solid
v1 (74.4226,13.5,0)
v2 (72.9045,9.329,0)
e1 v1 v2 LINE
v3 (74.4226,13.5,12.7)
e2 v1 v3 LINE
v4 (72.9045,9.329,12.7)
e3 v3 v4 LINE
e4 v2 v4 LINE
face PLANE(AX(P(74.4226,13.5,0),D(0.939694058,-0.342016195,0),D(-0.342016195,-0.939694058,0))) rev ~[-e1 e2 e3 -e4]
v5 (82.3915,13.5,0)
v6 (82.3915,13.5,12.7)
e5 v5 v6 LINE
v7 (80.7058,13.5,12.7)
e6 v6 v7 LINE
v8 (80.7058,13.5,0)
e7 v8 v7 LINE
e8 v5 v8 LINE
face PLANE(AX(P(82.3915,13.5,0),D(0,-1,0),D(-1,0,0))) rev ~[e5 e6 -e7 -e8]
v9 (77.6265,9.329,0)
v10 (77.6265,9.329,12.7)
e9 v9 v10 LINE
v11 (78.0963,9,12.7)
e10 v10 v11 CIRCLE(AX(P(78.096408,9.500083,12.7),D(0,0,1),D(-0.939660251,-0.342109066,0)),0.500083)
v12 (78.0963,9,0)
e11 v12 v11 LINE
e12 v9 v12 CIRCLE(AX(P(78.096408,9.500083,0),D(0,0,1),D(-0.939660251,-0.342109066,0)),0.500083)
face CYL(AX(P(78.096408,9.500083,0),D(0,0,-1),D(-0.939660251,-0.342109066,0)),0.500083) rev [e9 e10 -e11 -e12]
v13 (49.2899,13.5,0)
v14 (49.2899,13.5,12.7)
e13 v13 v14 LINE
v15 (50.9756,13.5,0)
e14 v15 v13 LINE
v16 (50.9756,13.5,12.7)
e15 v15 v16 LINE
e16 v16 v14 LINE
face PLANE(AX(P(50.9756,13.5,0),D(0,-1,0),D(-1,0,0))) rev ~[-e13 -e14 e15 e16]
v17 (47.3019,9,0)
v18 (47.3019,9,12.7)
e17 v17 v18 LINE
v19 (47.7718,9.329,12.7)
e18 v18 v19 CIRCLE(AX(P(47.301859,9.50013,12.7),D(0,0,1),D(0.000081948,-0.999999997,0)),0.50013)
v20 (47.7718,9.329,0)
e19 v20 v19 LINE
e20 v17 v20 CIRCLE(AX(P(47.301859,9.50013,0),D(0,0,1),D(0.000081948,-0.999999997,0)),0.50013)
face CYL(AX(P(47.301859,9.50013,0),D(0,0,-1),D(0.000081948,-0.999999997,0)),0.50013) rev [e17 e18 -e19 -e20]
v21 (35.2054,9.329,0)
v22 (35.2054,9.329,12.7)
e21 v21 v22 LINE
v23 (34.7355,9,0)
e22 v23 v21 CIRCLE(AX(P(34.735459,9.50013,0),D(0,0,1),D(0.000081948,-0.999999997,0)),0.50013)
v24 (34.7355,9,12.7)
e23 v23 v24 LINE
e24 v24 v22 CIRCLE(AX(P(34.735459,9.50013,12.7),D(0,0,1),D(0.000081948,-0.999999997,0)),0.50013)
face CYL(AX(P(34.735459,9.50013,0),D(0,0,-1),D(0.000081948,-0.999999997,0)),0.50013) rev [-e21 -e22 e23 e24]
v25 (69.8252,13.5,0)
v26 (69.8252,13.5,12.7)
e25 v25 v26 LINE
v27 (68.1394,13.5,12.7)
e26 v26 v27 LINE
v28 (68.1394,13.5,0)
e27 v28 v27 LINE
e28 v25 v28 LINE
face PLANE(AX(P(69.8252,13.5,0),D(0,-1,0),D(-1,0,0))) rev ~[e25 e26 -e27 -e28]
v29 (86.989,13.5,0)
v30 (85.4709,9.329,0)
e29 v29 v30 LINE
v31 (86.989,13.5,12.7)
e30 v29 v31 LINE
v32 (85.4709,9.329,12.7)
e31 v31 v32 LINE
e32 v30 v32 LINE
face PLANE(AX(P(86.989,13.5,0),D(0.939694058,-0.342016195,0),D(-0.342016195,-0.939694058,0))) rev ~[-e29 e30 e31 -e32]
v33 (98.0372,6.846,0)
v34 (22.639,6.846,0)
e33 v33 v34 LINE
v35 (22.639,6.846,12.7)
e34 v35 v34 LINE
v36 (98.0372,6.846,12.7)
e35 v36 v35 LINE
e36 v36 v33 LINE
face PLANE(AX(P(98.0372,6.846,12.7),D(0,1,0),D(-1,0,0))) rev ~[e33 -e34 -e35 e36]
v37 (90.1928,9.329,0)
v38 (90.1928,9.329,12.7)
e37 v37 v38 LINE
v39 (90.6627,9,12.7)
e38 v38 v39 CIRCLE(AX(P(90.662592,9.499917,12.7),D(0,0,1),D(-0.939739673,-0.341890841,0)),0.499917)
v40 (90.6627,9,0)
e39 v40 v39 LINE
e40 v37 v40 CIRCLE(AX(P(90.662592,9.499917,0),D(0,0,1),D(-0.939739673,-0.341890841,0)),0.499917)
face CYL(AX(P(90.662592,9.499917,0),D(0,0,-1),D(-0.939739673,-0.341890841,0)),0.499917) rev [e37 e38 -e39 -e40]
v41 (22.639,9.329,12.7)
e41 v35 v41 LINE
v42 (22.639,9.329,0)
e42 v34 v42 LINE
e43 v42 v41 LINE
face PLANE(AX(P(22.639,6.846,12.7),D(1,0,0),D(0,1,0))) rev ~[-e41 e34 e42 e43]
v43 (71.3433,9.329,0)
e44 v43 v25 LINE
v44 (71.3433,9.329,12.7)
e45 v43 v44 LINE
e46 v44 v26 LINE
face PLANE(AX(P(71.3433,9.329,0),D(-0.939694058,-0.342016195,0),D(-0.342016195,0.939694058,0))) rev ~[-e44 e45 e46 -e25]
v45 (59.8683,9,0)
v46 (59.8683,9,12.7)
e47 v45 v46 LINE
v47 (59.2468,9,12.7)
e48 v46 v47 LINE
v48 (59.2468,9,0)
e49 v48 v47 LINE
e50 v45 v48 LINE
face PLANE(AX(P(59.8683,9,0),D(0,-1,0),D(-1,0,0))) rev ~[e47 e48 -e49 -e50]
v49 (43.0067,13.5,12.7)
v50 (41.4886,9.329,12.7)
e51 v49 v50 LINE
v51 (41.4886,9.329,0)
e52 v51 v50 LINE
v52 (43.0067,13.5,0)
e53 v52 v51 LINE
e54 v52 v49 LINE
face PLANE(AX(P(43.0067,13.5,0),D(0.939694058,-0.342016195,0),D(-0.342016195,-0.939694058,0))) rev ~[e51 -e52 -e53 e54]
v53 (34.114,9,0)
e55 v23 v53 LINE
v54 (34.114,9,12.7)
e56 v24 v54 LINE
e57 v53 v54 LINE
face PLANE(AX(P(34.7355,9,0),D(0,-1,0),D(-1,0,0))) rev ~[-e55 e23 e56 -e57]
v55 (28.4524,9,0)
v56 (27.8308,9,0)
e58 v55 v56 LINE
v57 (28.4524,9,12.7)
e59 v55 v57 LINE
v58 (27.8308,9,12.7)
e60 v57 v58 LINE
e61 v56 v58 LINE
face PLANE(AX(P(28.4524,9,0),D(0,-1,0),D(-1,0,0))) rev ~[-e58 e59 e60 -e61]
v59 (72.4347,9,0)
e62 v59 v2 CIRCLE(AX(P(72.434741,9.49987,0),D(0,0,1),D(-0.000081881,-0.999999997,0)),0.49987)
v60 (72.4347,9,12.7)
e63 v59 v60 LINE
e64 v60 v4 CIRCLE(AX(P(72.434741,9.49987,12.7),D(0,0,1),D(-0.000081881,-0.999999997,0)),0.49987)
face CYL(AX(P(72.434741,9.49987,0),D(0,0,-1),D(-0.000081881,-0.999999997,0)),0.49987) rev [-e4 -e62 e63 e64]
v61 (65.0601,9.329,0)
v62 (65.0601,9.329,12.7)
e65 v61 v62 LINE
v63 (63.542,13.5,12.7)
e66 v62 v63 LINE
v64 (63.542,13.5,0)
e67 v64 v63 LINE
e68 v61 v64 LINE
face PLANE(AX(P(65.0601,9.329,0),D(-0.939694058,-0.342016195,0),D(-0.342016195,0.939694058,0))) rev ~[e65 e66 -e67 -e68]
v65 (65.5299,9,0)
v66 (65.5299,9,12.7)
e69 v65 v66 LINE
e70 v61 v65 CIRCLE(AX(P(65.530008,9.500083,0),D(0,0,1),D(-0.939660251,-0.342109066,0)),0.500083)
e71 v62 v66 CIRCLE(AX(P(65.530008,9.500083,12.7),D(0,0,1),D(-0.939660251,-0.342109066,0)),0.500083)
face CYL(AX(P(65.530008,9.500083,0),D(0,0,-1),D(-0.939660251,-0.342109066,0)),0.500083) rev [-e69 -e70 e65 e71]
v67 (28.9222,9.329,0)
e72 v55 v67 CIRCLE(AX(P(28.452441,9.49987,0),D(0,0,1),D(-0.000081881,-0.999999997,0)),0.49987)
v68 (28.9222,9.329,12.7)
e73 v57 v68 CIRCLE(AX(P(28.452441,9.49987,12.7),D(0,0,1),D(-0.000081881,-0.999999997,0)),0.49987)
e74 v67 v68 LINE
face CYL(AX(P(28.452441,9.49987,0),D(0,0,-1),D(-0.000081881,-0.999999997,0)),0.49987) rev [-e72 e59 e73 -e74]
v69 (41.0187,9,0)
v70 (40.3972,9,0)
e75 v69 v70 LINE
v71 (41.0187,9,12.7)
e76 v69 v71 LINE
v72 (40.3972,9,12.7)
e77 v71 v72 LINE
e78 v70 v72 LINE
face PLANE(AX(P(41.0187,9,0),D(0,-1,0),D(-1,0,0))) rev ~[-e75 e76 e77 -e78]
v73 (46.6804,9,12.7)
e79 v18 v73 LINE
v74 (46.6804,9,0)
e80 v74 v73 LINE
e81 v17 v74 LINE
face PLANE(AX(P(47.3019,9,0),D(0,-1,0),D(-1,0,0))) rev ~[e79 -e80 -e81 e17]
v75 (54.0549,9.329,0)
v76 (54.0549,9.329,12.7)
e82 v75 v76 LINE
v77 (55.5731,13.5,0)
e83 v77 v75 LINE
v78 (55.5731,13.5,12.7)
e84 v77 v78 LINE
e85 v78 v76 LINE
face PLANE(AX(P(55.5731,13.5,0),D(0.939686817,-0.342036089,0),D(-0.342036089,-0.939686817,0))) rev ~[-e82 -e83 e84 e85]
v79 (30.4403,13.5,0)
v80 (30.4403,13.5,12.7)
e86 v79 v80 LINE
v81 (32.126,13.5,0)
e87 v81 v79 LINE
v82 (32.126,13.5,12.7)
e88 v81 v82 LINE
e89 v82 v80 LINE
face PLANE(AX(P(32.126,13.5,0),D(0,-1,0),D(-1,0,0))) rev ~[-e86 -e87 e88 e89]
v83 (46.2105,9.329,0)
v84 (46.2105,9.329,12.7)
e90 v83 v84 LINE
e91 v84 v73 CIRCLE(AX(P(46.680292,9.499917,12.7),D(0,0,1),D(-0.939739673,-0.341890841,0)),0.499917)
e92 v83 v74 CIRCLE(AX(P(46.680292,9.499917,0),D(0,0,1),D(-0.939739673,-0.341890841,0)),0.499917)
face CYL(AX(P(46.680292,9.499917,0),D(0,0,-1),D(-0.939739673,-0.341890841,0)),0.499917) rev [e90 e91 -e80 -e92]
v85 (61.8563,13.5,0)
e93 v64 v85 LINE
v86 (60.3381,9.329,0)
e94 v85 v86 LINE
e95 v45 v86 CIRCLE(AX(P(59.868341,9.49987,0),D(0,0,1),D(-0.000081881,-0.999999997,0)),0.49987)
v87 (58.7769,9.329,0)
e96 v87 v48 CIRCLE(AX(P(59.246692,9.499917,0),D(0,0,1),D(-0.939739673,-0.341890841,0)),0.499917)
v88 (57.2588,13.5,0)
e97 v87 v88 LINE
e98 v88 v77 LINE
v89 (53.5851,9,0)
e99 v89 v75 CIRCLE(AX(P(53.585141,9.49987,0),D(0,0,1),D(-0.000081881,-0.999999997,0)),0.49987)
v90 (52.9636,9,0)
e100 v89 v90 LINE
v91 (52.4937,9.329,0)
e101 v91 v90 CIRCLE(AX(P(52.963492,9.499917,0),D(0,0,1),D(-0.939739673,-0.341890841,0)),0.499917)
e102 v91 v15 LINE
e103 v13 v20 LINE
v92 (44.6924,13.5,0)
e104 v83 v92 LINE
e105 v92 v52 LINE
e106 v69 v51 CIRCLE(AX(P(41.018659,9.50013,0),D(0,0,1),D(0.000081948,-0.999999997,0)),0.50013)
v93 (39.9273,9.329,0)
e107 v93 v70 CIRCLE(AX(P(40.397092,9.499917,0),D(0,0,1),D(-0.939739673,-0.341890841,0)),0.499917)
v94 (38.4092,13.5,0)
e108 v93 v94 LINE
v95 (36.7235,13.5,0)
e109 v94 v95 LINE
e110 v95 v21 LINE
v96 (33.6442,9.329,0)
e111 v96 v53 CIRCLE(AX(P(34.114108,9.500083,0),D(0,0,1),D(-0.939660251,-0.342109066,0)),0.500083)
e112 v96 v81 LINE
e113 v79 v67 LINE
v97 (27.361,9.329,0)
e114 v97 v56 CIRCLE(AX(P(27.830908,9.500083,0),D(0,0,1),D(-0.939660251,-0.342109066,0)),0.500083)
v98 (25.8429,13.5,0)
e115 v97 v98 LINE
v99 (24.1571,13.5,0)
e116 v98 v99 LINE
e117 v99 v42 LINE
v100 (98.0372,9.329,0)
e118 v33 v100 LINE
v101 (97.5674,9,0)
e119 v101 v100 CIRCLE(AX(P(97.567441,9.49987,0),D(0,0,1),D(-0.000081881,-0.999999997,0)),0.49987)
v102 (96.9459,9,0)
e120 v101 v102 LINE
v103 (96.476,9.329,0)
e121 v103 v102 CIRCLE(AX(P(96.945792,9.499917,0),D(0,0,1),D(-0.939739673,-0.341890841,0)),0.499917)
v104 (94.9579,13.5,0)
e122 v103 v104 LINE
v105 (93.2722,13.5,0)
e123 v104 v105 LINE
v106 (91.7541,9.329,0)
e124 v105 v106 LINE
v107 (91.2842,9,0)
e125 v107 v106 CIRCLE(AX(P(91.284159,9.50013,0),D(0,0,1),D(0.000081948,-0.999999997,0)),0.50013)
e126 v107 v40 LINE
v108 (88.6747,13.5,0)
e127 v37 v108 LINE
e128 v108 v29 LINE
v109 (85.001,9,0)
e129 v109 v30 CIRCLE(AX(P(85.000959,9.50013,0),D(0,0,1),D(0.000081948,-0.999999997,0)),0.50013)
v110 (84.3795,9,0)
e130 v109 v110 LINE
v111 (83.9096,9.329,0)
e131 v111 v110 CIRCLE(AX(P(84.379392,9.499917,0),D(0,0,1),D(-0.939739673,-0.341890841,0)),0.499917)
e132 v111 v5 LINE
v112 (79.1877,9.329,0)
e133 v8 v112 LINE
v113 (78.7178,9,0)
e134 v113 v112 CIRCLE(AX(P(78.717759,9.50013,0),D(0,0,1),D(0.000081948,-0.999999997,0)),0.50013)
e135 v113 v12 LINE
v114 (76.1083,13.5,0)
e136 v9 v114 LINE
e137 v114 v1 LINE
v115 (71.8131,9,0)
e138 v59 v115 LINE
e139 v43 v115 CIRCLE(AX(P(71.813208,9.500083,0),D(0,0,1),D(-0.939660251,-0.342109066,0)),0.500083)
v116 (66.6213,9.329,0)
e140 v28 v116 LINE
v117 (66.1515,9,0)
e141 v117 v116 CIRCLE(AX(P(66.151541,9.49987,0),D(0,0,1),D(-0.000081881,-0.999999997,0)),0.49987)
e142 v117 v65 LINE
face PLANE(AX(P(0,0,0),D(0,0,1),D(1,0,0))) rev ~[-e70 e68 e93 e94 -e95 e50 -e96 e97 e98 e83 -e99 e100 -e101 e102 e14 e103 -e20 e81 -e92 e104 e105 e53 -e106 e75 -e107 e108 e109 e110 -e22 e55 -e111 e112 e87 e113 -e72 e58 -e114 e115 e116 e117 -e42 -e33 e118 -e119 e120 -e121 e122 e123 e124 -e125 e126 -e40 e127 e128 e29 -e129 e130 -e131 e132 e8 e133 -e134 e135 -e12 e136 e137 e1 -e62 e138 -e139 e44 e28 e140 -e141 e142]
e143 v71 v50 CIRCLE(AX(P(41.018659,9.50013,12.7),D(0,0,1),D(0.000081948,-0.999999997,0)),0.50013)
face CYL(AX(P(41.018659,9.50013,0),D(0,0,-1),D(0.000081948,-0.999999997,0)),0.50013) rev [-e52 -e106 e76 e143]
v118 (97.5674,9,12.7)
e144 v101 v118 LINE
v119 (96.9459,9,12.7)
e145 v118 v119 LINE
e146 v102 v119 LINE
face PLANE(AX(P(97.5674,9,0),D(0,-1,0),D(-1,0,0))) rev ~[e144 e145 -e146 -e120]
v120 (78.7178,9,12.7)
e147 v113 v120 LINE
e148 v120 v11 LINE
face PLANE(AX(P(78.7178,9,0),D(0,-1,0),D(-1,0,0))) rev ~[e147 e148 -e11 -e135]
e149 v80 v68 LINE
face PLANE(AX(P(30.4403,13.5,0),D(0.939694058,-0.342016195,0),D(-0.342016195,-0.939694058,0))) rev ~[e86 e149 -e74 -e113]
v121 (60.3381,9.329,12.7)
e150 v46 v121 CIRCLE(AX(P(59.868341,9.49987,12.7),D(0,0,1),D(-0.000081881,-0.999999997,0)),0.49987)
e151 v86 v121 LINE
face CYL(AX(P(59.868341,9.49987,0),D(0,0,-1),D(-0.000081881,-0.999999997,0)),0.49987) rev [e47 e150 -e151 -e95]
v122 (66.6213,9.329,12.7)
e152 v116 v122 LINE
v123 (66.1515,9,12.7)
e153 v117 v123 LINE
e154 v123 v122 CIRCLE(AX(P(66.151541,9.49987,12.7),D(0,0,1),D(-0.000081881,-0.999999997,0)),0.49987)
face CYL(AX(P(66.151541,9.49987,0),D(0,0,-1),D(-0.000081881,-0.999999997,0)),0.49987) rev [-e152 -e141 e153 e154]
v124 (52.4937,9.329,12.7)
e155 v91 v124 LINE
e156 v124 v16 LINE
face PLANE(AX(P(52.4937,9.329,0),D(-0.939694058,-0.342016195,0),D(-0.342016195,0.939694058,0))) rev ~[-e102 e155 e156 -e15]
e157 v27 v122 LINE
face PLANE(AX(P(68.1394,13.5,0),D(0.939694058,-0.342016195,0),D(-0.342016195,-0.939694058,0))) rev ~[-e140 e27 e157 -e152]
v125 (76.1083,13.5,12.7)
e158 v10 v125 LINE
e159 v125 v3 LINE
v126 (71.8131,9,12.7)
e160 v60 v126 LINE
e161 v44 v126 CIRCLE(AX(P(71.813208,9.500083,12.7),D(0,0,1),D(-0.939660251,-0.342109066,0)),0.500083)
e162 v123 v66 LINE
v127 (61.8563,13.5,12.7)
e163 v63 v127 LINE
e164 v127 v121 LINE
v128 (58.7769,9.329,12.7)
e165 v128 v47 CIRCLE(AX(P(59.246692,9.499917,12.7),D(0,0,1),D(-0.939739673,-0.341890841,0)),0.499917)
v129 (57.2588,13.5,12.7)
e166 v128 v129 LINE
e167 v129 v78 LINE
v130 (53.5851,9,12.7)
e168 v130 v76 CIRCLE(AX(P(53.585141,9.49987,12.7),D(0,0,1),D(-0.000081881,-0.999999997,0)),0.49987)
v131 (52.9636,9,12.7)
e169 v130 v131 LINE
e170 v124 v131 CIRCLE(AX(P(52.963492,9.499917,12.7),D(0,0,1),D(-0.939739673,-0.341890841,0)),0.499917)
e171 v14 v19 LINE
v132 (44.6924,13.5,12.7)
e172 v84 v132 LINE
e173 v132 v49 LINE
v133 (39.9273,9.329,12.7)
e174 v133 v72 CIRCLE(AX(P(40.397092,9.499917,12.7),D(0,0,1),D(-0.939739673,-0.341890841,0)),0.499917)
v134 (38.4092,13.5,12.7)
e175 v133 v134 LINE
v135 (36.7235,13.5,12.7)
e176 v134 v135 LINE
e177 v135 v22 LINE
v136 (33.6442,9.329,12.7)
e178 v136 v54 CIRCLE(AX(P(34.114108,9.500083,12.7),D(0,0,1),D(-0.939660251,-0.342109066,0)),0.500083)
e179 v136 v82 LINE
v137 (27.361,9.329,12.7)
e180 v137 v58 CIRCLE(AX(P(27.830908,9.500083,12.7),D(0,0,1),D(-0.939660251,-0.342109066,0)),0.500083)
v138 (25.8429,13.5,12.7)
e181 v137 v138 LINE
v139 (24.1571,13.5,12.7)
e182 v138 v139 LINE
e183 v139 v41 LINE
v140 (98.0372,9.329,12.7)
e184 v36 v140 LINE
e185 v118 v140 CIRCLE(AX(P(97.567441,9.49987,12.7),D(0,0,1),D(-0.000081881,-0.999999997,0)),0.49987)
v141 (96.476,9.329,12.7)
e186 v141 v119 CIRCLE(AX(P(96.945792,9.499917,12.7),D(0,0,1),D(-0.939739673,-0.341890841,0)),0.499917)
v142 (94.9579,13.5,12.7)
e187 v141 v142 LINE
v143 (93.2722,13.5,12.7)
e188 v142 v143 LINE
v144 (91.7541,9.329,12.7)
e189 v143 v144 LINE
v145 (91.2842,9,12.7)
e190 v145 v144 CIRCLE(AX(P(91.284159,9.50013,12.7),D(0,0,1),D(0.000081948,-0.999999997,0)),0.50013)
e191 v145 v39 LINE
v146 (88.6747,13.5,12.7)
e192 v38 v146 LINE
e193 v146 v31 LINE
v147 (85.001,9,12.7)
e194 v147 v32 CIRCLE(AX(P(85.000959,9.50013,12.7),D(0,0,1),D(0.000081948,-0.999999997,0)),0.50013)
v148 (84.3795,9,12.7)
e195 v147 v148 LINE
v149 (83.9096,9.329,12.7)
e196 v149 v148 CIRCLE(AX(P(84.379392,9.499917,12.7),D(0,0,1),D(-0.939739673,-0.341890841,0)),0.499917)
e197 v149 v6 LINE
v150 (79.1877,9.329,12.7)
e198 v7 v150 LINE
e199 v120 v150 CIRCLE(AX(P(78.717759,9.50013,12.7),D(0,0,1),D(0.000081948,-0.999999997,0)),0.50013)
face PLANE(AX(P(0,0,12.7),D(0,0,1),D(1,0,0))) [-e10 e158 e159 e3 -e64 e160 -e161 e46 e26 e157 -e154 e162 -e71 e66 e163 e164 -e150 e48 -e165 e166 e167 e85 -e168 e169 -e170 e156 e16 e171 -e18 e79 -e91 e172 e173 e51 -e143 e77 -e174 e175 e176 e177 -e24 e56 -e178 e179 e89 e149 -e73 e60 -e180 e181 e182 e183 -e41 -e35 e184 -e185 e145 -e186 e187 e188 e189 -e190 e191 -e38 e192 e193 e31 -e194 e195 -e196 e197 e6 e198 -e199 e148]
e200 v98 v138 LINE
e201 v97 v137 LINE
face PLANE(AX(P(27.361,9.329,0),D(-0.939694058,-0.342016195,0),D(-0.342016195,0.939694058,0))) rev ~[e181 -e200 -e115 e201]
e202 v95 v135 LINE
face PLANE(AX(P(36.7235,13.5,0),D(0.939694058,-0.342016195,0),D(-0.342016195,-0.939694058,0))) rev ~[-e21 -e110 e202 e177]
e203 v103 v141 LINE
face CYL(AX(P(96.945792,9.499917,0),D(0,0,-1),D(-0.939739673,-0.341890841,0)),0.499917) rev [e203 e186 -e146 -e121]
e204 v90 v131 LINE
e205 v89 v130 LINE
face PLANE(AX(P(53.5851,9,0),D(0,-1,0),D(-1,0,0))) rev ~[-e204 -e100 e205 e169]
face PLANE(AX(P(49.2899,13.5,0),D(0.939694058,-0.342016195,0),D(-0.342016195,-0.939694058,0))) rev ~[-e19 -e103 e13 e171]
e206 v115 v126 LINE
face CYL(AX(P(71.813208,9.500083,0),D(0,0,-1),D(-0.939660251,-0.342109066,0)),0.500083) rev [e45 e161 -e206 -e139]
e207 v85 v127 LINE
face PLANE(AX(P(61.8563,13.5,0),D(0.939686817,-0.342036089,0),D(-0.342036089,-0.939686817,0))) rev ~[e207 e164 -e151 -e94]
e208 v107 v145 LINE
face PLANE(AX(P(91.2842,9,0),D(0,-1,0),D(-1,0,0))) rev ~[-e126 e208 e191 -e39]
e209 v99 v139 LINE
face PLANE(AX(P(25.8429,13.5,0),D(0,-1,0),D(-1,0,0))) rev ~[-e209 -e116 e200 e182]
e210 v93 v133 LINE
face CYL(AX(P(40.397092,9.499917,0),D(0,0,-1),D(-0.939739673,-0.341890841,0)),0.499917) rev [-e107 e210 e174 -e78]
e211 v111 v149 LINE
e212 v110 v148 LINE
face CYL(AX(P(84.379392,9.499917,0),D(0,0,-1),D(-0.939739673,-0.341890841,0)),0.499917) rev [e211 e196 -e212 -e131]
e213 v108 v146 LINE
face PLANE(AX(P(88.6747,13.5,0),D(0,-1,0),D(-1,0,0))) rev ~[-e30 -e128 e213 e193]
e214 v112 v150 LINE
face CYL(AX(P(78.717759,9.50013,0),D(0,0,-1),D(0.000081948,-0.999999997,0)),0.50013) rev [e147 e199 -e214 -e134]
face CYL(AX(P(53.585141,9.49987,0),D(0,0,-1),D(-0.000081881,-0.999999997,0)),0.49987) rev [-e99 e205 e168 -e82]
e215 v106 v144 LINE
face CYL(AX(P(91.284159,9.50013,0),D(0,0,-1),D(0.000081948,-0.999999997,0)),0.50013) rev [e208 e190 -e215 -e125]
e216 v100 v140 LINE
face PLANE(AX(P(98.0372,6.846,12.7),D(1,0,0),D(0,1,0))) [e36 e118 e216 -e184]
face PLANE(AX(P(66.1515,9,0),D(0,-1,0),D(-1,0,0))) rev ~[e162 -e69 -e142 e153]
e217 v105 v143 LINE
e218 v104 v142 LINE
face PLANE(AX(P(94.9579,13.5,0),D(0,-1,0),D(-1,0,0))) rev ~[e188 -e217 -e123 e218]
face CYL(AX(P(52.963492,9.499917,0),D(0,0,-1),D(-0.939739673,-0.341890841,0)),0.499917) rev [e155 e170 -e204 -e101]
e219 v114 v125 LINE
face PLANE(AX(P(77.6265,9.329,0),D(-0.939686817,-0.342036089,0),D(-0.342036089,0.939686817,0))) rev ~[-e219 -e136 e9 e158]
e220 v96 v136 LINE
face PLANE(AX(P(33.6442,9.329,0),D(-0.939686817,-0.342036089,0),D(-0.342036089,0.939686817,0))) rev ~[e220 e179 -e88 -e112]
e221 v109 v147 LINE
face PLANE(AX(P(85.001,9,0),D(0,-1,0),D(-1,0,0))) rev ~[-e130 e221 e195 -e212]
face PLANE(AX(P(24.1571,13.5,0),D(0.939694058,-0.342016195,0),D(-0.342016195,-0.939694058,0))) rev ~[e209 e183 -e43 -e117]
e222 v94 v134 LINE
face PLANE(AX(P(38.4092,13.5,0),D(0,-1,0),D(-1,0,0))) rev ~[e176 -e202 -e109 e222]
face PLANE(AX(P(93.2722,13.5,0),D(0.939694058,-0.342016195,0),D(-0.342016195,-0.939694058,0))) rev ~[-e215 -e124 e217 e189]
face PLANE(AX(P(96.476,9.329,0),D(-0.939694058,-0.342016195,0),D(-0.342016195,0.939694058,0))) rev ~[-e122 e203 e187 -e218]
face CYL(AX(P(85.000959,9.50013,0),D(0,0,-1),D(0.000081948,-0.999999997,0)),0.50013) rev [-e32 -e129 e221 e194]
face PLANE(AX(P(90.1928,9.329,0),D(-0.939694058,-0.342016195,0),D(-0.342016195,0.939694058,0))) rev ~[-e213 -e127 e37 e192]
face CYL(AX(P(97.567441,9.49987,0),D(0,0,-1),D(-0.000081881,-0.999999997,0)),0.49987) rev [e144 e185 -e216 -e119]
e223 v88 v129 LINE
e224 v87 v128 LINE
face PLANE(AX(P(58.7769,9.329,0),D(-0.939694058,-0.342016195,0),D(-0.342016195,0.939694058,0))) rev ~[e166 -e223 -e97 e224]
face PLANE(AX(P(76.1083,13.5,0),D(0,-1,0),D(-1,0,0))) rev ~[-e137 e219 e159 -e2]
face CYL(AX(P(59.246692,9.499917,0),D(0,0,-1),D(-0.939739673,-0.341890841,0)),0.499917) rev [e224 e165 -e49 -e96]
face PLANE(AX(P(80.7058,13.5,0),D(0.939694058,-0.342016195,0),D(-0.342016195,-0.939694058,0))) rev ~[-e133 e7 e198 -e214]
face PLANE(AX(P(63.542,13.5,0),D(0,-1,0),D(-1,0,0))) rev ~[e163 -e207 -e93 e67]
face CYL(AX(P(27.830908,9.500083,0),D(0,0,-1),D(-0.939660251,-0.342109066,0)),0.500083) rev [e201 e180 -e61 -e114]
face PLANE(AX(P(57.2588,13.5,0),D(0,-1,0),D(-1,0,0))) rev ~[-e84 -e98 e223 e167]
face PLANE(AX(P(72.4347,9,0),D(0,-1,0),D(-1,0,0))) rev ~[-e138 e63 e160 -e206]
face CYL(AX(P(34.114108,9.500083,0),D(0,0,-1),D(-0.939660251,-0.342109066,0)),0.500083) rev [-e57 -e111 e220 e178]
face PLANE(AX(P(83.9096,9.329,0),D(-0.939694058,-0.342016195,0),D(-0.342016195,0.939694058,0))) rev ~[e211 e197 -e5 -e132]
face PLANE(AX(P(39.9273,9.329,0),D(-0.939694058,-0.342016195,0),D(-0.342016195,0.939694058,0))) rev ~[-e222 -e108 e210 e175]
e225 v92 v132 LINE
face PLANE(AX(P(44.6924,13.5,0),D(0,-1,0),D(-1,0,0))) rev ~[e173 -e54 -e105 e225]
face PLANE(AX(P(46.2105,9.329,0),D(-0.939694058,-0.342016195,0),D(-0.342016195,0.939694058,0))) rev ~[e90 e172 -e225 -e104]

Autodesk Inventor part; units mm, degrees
ref_plane "YZ Plane" through (0, 0, 0) normal (1, 0, 0) x (0, 1, 0)
ref_plane "XZ Plane" through (0, 0, 0) normal (0, 1, 0) x (-1, 0, 0)
ref_plane "XY Plane" through (0, 0, 0) normal (0, 0, 1) x (1, 0, 0)
sketch "Sketch1" plane through (0, 0, 0) normal (0, 0, 1) x (1, 0, 0)
  line L0 (27.361, 9.329) -> (25.8429, 13.5)
  line L1 (25.8429, 13.5) -> (24.1571, 13.5)
  line L2 (24.1571, 13.5) -> (22.639, 9.329)
  arc A0 (22.1692, 9) -> (22.639, 9.329) centre (22.1692, 9.5) ccw
  line L3 (22.1692, 9) -> (0, 9)
  line L4 (0, 9) -> (0, 0)
  line L5 (0, 0) -> (175.6637, 0)
  line L6 (175.6637, 0) -> (175.6637, 9)
  line L7 (175.6637, 9) -> (153.4945, 9)
  arc A1 (153.0247, 9.329) -> (153.4945, 9) centre (153.4945, 9.5) ccw
  line L8 (153.0247, 9.329) -> (151.5066, 13.5)
  line L9 (151.5066, 13.5) -> (149.8209, 13.5)
  line L10 (149.8209, 13.5) -> (148.3027, 9.329)
  arc A2 (147.8329, 9) -> (148.3027, 9.329) centre (147.8329, 9.5) ccw
  line L11 (147.8329, 9) -> (147.2113, 9)
  arc A3 (146.7415, 9.329) -> (147.2113, 9) centre (147.2113, 9.5) ccw
  line L12 (146.7415, 9.329) -> (145.2234, 13.5)
  line L13 (145.2234, 13.5) -> (143.5377, 13.5)
  line L14 (143.5377, 13.5) -> (142.0195, 9.329)
  arc A4 (141.5497, 9) -> (142.0195, 9.329) centre (141.5497, 9.5) ccw
  line L15 (141.5497, 9) -> (140.9282, 9)
  arc A5 (140.4583, 9.329) -> (140.9282, 9) centre (140.9282, 9.5) ccw
  line L16 (140.4583, 9.329) -> (138.9402, 13.5)
  line L17 (138.9402, 13.5) -> (137.2545, 13.5)
  line L18 (137.2545, 13.5) -> (135.7364, 9.329)
  arc A6 (135.2665, 9) -> (135.7364, 9.329) centre (135.2665, 9.5) ccw
  line L19 (135.2665, 9) -> (134.645, 9)
  arc A7 (134.1751, 9.329) -> (134.645, 9) centre (134.645, 9.5) ccw
  line L20 (134.1751, 9.329) -> (132.657, 13.5)
  line L21 (132.657, 13.5) -> (130.9713, 13.5)
  line L22 (130.9713, 13.5) -> (129.4532, 9.329)
  arc A8 (128.9833, 9) -> (129.4532, 9.329) centre (128.9833, 9.5) ccw
  line L23 (128.9833, 9) -> (128.3618, 9)
  arc A9 (127.8919, 9.329) -> (128.3618, 9) centre (128.3618, 9.5) ccw
  line L24 (127.8919, 9.329) -> (126.3738, 13.5)
  line L25 (126.3738, 13.5) -> (124.6881, 13.5)
  line L26 (124.6881, 13.5) -> (123.17, 9.329)
  arc A10 (122.7001, 9) -> (123.17, 9.329) centre (122.7001, 9.5) ccw
  line L27 (122.7001, 9) -> (122.0786, 9)
  arc A11 (121.6088, 9.329) -> (122.0786, 9) centre (122.0786, 9.5) ccw
  line L28 (121.6088, 9.329) -> (120.0906, 13.5)
  line L29 (120.0906, 13.5) -> (118.4049, 13.5)
  line L30 (118.4049, 13.5) -> (116.8868, 9.329)
  arc A12 (116.417, 9) -> (116.8868, 9.329) centre (116.417, 9.5) ccw
  line L31 (116.417, 9) -> (115.7954, 9)
  arc A13 (115.3256, 9.329) -> (115.7954, 9) centre (115.7954, 9.5) ccw
  line L32 (115.3256, 9.329) -> (113.8075, 13.5)
  line L33 (113.8075, 13.5) -> (112.1217, 13.5)
  line L34 (112.1217, 13.5) -> (110.6036, 9.329)
  arc A14 (110.1338, 9) -> (110.6036, 9.329) centre (110.1338, 9.5) ccw
  line L35 (110.1338, 9) -> (109.5122, 9)
  arc A15 (109.0424, 9.329) -> (109.5122, 9) centre (109.5122, 9.5) ccw
  line L36 (109.0424, 9.329) -> (107.5243, 13.5)
  line L37 (107.5243, 13.5) -> (105.8386, 13.5)
  line L38 (105.8386, 13.5) -> (104.3204, 9.329)
  arc A16 (103.8506, 9) -> (104.3204, 9.329) centre (103.8506, 9.5) ccw
  line L39 (103.8506, 9) -> (103.229, 9)
  arc A17 (102.7592, 9.329) -> (103.229, 9) centre (103.229, 9.5) ccw
  line L40 (102.7592, 9.329) -> (101.2411, 13.5)
  line L41 (101.2411, 13.5) -> (99.5554, 13.5)
  line L42 (99.5554, 13.5) -> (98.0372, 9.329)
  arc A18 (97.5674, 9) -> (98.0372, 9.329) centre (97.5674, 9.5) ccw
  line L43 (97.5674, 9) -> (96.9459, 9)
  arc A19 (96.476, 9.329) -> (96.9459, 9) centre (96.9459, 9.5) ccw
  line L44 (96.476, 9.329) -> (94.9579, 13.5)
  line L45 (94.9579, 13.5) -> (93.2722, 13.5)
  line L46 (93.2722, 13.5) -> (91.7541, 9.329)
  arc A20 (91.2842, 9) -> (91.7541, 9.329) centre (91.2842, 9.5) ccw
  line L47 (91.2842, 9) -> (90.6627, 9)
  arc A21 (90.1928, 9.329) -> (90.6627, 9) centre (90.6627, 9.5) ccw
  line L48 (90.1928, 9.329) -> (88.6747, 13.5)
  line L49 (88.6747, 13.5) -> (86.989, 13.5)
  line L50 (86.989, 13.5) -> (85.4709, 9.329)
  arc A22 (85.001, 9) -> (85.4709, 9.329) centre (85.001, 9.5) ccw
  line L51 (85.001, 9) -> (84.3795, 9)
  arc A23 (83.9096, 9.329) -> (84.3795, 9) centre (84.3795, 9.5) ccw
  line L52 (83.9096, 9.329) -> (82.3915, 13.5)
  line L53 (82.3915, 13.5) -> (80.7058, 13.5)
  line L54 (80.7058, 13.5) -> (79.1877, 9.329)
  arc A24 (78.7178, 9) -> (79.1877, 9.329) centre (78.7178, 9.5) ccw
  line L55 (78.7178, 9) -> (78.0963, 9)
  arc A25 (77.6265, 9.329) -> (78.0963, 9) centre (78.0963, 9.5) ccw
  line L56 (77.6265, 9.329) -> (76.1083, 13.5)
  line L57 (76.1083, 13.5) -> (74.4226, 13.5)
  line L58 (74.4226, 13.5) -> (72.9045, 9.329)
  arc A26 (72.4347, 9) -> (72.9045, 9.329) centre (72.4347, 9.5) ccw
  line L59 (72.4347, 9) -> (71.8131, 9)
  arc A27 (71.3433, 9.329) -> (71.8131, 9) centre (71.8131, 9.5) ccw
  line L60 (71.3433, 9.329) -> (69.8252, 13.5)
  line L61 (69.8252, 13.5) -> (68.1394, 13.5)
  line L62 (68.1394, 13.5) -> (66.6213, 9.329)
  arc A28 (66.1515, 9) -> (66.6213, 9.329) centre (66.1515, 9.5) ccw
  line L63 (66.1515, 9) -> (65.5299, 9)
  arc A29 (65.0601, 9.329) -> (65.5299, 9) centre (65.5299, 9.5) ccw
  line L64 (65.0601, 9.329) -> (63.542, 13.5)
  line L65 (63.542, 13.5) -> (61.8563, 13.5)
  line L66 (61.8563, 13.5) -> (60.3381, 9.329)
  arc A30 (59.8683, 9) -> (60.3381, 9.329) centre (59.8683, 9.5) ccw
  line L67 (59.8683, 9) -> (59.2468, 9)
  arc A31 (58.7769, 9.329) -> (59.2468, 9) centre (59.2468, 9.5) ccw
  line L68 (58.7769, 9.329) -> (57.2588, 13.5)
  line L69 (57.2588, 13.5) -> (55.5731, 13.5)
  line L70 (55.5731, 13.5) -> (54.0549, 9.329)
  arc A32 (53.5851, 9) -> (54.0549, 9.329) centre (53.5851, 9.5) ccw
  line L71 (53.5851, 9) -> (52.9636, 9)
  arc A33 (52.4937, 9.329) -> (52.9636, 9) centre (52.9636, 9.5) ccw
  line L72 (52.4937, 9.329) -> (50.9756, 13.5)
  line L73 (50.9756, 13.5) -> (49.2899, 13.5)
  line L74 (49.2899, 13.5) -> (47.7718, 9.329)
  arc A34 (47.3019, 9) -> (47.7718, 9.329) centre (47.3019, 9.5) ccw
  line L75 (47.3019, 9) -> (46.6804, 9)
  arc A35 (46.2105, 9.329) -> (46.6804, 9) centre (46.6804, 9.5) ccw
  line L76 (46.2105, 9.329) -> (44.6924, 13.5)
  line L77 (44.6924, 13.5) -> (43.0067, 13.5)
  line L78 (43.0067, 13.5) -> (41.4886, 9.329)
  arc A36 (41.0187, 9) -> (41.4886, 9.329) centre (41.0187, 9.5) ccw
  line L79 (41.0187, 9) -> (40.3972, 9)
  arc A37 (39.9273, 9.329) -> (40.3972, 9) centre (40.3972, 9.5) ccw
  line L80 (39.9273, 9.329) -> (38.4092, 13.5)
  line L81 (38.4092, 13.5) -> (36.7235, 13.5)
  line L82 (36.7235, 13.5) -> (35.2054, 9.329)
  arc A38 (34.7355, 9) -> (35.2054, 9.329) centre (34.7355, 9.5) ccw
  line L83 (34.7355, 9) -> (34.114, 9)
  arc A39 (33.6442, 9.329) -> (34.114, 9) centre (34.114, 9.5) ccw
  line L84 (33.6442, 9.329) -> (32.126, 13.5)
  line L85 (32.126, 13.5) -> (30.4403, 13.5)
  line L86 (30.4403, 13.5) -> (28.9222, 9.329)
  arc A40 (28.4524, 9) -> (28.9222, 9.329) centre (28.4524, 9.5) ccw
  line L87 (28.4524, 9) -> (27.8308, 9)
  arc A41 (27.361, 9.329) -> (27.8308, 9) centre (27.8308, 9.5) ccw
  point P0 (87.8319, 5)
extrude "Extrusion1" add sketch "Sketch1" along normal blind 12.7
sketch "Sketch2" plane through (0, 0, 12.7) normal (0, 0, 1) x (1, 0, 0)
  line L0 (0, 9) -> (22.1692, 9) projected
  line L1 (175.6637, 9) -> (153.4945, 9) projected
  line L2 (0, 9) -> (175.6637, 9)
  point P0 (0, 0)
sketch "Sketch3" plane through (0, 0, 12.7) normal (0, 0, 1) x (1, 0, 0)
  line L0 (22.639, 9.329) -> (24.1571, 13.5) projected
  line L1 (175.6637, 0) -> (0, 0) projected
  line L2 (22.639, 9.329) -> (0, 9.329)
  line L3 (0, 9.329) -> (0, 0)
  line L4 (0, 0) -> (22.639, 0)
  line L5 (22.639, 0) -> (22.639, 9.329)
  line L6 (22.639, 0) -> (98.839, 0)
  line L7 (98.0372, 13.6919) -> (175.6637, 13.6919)
  line L8 (175.6637, 13.6919) -> (175.6637, 0)
  line L9 (175.6637, 0) -> (98.0372, 0)
  line L10 (98.0372, 0) -> (98.0372, 13.6919)
  line L11 (22.639, 0) -> (98.0372, 0)
  line L12 (98.0372, 0) -> (98.0372, 6.846)
  line L13 (98.0372, 6.846) -> (22.639, 6.846)
  line L14 (22.639, 6.846) -> (22.639, 0)
  dimension "d3" = 13.6919
  dimension "d4" = 77.6265
  dimension "d5" = 74.7953
extrude "Extrusion2" cut sketch "Sketch3" against normal blind 25.4
properties part number "Rack"
